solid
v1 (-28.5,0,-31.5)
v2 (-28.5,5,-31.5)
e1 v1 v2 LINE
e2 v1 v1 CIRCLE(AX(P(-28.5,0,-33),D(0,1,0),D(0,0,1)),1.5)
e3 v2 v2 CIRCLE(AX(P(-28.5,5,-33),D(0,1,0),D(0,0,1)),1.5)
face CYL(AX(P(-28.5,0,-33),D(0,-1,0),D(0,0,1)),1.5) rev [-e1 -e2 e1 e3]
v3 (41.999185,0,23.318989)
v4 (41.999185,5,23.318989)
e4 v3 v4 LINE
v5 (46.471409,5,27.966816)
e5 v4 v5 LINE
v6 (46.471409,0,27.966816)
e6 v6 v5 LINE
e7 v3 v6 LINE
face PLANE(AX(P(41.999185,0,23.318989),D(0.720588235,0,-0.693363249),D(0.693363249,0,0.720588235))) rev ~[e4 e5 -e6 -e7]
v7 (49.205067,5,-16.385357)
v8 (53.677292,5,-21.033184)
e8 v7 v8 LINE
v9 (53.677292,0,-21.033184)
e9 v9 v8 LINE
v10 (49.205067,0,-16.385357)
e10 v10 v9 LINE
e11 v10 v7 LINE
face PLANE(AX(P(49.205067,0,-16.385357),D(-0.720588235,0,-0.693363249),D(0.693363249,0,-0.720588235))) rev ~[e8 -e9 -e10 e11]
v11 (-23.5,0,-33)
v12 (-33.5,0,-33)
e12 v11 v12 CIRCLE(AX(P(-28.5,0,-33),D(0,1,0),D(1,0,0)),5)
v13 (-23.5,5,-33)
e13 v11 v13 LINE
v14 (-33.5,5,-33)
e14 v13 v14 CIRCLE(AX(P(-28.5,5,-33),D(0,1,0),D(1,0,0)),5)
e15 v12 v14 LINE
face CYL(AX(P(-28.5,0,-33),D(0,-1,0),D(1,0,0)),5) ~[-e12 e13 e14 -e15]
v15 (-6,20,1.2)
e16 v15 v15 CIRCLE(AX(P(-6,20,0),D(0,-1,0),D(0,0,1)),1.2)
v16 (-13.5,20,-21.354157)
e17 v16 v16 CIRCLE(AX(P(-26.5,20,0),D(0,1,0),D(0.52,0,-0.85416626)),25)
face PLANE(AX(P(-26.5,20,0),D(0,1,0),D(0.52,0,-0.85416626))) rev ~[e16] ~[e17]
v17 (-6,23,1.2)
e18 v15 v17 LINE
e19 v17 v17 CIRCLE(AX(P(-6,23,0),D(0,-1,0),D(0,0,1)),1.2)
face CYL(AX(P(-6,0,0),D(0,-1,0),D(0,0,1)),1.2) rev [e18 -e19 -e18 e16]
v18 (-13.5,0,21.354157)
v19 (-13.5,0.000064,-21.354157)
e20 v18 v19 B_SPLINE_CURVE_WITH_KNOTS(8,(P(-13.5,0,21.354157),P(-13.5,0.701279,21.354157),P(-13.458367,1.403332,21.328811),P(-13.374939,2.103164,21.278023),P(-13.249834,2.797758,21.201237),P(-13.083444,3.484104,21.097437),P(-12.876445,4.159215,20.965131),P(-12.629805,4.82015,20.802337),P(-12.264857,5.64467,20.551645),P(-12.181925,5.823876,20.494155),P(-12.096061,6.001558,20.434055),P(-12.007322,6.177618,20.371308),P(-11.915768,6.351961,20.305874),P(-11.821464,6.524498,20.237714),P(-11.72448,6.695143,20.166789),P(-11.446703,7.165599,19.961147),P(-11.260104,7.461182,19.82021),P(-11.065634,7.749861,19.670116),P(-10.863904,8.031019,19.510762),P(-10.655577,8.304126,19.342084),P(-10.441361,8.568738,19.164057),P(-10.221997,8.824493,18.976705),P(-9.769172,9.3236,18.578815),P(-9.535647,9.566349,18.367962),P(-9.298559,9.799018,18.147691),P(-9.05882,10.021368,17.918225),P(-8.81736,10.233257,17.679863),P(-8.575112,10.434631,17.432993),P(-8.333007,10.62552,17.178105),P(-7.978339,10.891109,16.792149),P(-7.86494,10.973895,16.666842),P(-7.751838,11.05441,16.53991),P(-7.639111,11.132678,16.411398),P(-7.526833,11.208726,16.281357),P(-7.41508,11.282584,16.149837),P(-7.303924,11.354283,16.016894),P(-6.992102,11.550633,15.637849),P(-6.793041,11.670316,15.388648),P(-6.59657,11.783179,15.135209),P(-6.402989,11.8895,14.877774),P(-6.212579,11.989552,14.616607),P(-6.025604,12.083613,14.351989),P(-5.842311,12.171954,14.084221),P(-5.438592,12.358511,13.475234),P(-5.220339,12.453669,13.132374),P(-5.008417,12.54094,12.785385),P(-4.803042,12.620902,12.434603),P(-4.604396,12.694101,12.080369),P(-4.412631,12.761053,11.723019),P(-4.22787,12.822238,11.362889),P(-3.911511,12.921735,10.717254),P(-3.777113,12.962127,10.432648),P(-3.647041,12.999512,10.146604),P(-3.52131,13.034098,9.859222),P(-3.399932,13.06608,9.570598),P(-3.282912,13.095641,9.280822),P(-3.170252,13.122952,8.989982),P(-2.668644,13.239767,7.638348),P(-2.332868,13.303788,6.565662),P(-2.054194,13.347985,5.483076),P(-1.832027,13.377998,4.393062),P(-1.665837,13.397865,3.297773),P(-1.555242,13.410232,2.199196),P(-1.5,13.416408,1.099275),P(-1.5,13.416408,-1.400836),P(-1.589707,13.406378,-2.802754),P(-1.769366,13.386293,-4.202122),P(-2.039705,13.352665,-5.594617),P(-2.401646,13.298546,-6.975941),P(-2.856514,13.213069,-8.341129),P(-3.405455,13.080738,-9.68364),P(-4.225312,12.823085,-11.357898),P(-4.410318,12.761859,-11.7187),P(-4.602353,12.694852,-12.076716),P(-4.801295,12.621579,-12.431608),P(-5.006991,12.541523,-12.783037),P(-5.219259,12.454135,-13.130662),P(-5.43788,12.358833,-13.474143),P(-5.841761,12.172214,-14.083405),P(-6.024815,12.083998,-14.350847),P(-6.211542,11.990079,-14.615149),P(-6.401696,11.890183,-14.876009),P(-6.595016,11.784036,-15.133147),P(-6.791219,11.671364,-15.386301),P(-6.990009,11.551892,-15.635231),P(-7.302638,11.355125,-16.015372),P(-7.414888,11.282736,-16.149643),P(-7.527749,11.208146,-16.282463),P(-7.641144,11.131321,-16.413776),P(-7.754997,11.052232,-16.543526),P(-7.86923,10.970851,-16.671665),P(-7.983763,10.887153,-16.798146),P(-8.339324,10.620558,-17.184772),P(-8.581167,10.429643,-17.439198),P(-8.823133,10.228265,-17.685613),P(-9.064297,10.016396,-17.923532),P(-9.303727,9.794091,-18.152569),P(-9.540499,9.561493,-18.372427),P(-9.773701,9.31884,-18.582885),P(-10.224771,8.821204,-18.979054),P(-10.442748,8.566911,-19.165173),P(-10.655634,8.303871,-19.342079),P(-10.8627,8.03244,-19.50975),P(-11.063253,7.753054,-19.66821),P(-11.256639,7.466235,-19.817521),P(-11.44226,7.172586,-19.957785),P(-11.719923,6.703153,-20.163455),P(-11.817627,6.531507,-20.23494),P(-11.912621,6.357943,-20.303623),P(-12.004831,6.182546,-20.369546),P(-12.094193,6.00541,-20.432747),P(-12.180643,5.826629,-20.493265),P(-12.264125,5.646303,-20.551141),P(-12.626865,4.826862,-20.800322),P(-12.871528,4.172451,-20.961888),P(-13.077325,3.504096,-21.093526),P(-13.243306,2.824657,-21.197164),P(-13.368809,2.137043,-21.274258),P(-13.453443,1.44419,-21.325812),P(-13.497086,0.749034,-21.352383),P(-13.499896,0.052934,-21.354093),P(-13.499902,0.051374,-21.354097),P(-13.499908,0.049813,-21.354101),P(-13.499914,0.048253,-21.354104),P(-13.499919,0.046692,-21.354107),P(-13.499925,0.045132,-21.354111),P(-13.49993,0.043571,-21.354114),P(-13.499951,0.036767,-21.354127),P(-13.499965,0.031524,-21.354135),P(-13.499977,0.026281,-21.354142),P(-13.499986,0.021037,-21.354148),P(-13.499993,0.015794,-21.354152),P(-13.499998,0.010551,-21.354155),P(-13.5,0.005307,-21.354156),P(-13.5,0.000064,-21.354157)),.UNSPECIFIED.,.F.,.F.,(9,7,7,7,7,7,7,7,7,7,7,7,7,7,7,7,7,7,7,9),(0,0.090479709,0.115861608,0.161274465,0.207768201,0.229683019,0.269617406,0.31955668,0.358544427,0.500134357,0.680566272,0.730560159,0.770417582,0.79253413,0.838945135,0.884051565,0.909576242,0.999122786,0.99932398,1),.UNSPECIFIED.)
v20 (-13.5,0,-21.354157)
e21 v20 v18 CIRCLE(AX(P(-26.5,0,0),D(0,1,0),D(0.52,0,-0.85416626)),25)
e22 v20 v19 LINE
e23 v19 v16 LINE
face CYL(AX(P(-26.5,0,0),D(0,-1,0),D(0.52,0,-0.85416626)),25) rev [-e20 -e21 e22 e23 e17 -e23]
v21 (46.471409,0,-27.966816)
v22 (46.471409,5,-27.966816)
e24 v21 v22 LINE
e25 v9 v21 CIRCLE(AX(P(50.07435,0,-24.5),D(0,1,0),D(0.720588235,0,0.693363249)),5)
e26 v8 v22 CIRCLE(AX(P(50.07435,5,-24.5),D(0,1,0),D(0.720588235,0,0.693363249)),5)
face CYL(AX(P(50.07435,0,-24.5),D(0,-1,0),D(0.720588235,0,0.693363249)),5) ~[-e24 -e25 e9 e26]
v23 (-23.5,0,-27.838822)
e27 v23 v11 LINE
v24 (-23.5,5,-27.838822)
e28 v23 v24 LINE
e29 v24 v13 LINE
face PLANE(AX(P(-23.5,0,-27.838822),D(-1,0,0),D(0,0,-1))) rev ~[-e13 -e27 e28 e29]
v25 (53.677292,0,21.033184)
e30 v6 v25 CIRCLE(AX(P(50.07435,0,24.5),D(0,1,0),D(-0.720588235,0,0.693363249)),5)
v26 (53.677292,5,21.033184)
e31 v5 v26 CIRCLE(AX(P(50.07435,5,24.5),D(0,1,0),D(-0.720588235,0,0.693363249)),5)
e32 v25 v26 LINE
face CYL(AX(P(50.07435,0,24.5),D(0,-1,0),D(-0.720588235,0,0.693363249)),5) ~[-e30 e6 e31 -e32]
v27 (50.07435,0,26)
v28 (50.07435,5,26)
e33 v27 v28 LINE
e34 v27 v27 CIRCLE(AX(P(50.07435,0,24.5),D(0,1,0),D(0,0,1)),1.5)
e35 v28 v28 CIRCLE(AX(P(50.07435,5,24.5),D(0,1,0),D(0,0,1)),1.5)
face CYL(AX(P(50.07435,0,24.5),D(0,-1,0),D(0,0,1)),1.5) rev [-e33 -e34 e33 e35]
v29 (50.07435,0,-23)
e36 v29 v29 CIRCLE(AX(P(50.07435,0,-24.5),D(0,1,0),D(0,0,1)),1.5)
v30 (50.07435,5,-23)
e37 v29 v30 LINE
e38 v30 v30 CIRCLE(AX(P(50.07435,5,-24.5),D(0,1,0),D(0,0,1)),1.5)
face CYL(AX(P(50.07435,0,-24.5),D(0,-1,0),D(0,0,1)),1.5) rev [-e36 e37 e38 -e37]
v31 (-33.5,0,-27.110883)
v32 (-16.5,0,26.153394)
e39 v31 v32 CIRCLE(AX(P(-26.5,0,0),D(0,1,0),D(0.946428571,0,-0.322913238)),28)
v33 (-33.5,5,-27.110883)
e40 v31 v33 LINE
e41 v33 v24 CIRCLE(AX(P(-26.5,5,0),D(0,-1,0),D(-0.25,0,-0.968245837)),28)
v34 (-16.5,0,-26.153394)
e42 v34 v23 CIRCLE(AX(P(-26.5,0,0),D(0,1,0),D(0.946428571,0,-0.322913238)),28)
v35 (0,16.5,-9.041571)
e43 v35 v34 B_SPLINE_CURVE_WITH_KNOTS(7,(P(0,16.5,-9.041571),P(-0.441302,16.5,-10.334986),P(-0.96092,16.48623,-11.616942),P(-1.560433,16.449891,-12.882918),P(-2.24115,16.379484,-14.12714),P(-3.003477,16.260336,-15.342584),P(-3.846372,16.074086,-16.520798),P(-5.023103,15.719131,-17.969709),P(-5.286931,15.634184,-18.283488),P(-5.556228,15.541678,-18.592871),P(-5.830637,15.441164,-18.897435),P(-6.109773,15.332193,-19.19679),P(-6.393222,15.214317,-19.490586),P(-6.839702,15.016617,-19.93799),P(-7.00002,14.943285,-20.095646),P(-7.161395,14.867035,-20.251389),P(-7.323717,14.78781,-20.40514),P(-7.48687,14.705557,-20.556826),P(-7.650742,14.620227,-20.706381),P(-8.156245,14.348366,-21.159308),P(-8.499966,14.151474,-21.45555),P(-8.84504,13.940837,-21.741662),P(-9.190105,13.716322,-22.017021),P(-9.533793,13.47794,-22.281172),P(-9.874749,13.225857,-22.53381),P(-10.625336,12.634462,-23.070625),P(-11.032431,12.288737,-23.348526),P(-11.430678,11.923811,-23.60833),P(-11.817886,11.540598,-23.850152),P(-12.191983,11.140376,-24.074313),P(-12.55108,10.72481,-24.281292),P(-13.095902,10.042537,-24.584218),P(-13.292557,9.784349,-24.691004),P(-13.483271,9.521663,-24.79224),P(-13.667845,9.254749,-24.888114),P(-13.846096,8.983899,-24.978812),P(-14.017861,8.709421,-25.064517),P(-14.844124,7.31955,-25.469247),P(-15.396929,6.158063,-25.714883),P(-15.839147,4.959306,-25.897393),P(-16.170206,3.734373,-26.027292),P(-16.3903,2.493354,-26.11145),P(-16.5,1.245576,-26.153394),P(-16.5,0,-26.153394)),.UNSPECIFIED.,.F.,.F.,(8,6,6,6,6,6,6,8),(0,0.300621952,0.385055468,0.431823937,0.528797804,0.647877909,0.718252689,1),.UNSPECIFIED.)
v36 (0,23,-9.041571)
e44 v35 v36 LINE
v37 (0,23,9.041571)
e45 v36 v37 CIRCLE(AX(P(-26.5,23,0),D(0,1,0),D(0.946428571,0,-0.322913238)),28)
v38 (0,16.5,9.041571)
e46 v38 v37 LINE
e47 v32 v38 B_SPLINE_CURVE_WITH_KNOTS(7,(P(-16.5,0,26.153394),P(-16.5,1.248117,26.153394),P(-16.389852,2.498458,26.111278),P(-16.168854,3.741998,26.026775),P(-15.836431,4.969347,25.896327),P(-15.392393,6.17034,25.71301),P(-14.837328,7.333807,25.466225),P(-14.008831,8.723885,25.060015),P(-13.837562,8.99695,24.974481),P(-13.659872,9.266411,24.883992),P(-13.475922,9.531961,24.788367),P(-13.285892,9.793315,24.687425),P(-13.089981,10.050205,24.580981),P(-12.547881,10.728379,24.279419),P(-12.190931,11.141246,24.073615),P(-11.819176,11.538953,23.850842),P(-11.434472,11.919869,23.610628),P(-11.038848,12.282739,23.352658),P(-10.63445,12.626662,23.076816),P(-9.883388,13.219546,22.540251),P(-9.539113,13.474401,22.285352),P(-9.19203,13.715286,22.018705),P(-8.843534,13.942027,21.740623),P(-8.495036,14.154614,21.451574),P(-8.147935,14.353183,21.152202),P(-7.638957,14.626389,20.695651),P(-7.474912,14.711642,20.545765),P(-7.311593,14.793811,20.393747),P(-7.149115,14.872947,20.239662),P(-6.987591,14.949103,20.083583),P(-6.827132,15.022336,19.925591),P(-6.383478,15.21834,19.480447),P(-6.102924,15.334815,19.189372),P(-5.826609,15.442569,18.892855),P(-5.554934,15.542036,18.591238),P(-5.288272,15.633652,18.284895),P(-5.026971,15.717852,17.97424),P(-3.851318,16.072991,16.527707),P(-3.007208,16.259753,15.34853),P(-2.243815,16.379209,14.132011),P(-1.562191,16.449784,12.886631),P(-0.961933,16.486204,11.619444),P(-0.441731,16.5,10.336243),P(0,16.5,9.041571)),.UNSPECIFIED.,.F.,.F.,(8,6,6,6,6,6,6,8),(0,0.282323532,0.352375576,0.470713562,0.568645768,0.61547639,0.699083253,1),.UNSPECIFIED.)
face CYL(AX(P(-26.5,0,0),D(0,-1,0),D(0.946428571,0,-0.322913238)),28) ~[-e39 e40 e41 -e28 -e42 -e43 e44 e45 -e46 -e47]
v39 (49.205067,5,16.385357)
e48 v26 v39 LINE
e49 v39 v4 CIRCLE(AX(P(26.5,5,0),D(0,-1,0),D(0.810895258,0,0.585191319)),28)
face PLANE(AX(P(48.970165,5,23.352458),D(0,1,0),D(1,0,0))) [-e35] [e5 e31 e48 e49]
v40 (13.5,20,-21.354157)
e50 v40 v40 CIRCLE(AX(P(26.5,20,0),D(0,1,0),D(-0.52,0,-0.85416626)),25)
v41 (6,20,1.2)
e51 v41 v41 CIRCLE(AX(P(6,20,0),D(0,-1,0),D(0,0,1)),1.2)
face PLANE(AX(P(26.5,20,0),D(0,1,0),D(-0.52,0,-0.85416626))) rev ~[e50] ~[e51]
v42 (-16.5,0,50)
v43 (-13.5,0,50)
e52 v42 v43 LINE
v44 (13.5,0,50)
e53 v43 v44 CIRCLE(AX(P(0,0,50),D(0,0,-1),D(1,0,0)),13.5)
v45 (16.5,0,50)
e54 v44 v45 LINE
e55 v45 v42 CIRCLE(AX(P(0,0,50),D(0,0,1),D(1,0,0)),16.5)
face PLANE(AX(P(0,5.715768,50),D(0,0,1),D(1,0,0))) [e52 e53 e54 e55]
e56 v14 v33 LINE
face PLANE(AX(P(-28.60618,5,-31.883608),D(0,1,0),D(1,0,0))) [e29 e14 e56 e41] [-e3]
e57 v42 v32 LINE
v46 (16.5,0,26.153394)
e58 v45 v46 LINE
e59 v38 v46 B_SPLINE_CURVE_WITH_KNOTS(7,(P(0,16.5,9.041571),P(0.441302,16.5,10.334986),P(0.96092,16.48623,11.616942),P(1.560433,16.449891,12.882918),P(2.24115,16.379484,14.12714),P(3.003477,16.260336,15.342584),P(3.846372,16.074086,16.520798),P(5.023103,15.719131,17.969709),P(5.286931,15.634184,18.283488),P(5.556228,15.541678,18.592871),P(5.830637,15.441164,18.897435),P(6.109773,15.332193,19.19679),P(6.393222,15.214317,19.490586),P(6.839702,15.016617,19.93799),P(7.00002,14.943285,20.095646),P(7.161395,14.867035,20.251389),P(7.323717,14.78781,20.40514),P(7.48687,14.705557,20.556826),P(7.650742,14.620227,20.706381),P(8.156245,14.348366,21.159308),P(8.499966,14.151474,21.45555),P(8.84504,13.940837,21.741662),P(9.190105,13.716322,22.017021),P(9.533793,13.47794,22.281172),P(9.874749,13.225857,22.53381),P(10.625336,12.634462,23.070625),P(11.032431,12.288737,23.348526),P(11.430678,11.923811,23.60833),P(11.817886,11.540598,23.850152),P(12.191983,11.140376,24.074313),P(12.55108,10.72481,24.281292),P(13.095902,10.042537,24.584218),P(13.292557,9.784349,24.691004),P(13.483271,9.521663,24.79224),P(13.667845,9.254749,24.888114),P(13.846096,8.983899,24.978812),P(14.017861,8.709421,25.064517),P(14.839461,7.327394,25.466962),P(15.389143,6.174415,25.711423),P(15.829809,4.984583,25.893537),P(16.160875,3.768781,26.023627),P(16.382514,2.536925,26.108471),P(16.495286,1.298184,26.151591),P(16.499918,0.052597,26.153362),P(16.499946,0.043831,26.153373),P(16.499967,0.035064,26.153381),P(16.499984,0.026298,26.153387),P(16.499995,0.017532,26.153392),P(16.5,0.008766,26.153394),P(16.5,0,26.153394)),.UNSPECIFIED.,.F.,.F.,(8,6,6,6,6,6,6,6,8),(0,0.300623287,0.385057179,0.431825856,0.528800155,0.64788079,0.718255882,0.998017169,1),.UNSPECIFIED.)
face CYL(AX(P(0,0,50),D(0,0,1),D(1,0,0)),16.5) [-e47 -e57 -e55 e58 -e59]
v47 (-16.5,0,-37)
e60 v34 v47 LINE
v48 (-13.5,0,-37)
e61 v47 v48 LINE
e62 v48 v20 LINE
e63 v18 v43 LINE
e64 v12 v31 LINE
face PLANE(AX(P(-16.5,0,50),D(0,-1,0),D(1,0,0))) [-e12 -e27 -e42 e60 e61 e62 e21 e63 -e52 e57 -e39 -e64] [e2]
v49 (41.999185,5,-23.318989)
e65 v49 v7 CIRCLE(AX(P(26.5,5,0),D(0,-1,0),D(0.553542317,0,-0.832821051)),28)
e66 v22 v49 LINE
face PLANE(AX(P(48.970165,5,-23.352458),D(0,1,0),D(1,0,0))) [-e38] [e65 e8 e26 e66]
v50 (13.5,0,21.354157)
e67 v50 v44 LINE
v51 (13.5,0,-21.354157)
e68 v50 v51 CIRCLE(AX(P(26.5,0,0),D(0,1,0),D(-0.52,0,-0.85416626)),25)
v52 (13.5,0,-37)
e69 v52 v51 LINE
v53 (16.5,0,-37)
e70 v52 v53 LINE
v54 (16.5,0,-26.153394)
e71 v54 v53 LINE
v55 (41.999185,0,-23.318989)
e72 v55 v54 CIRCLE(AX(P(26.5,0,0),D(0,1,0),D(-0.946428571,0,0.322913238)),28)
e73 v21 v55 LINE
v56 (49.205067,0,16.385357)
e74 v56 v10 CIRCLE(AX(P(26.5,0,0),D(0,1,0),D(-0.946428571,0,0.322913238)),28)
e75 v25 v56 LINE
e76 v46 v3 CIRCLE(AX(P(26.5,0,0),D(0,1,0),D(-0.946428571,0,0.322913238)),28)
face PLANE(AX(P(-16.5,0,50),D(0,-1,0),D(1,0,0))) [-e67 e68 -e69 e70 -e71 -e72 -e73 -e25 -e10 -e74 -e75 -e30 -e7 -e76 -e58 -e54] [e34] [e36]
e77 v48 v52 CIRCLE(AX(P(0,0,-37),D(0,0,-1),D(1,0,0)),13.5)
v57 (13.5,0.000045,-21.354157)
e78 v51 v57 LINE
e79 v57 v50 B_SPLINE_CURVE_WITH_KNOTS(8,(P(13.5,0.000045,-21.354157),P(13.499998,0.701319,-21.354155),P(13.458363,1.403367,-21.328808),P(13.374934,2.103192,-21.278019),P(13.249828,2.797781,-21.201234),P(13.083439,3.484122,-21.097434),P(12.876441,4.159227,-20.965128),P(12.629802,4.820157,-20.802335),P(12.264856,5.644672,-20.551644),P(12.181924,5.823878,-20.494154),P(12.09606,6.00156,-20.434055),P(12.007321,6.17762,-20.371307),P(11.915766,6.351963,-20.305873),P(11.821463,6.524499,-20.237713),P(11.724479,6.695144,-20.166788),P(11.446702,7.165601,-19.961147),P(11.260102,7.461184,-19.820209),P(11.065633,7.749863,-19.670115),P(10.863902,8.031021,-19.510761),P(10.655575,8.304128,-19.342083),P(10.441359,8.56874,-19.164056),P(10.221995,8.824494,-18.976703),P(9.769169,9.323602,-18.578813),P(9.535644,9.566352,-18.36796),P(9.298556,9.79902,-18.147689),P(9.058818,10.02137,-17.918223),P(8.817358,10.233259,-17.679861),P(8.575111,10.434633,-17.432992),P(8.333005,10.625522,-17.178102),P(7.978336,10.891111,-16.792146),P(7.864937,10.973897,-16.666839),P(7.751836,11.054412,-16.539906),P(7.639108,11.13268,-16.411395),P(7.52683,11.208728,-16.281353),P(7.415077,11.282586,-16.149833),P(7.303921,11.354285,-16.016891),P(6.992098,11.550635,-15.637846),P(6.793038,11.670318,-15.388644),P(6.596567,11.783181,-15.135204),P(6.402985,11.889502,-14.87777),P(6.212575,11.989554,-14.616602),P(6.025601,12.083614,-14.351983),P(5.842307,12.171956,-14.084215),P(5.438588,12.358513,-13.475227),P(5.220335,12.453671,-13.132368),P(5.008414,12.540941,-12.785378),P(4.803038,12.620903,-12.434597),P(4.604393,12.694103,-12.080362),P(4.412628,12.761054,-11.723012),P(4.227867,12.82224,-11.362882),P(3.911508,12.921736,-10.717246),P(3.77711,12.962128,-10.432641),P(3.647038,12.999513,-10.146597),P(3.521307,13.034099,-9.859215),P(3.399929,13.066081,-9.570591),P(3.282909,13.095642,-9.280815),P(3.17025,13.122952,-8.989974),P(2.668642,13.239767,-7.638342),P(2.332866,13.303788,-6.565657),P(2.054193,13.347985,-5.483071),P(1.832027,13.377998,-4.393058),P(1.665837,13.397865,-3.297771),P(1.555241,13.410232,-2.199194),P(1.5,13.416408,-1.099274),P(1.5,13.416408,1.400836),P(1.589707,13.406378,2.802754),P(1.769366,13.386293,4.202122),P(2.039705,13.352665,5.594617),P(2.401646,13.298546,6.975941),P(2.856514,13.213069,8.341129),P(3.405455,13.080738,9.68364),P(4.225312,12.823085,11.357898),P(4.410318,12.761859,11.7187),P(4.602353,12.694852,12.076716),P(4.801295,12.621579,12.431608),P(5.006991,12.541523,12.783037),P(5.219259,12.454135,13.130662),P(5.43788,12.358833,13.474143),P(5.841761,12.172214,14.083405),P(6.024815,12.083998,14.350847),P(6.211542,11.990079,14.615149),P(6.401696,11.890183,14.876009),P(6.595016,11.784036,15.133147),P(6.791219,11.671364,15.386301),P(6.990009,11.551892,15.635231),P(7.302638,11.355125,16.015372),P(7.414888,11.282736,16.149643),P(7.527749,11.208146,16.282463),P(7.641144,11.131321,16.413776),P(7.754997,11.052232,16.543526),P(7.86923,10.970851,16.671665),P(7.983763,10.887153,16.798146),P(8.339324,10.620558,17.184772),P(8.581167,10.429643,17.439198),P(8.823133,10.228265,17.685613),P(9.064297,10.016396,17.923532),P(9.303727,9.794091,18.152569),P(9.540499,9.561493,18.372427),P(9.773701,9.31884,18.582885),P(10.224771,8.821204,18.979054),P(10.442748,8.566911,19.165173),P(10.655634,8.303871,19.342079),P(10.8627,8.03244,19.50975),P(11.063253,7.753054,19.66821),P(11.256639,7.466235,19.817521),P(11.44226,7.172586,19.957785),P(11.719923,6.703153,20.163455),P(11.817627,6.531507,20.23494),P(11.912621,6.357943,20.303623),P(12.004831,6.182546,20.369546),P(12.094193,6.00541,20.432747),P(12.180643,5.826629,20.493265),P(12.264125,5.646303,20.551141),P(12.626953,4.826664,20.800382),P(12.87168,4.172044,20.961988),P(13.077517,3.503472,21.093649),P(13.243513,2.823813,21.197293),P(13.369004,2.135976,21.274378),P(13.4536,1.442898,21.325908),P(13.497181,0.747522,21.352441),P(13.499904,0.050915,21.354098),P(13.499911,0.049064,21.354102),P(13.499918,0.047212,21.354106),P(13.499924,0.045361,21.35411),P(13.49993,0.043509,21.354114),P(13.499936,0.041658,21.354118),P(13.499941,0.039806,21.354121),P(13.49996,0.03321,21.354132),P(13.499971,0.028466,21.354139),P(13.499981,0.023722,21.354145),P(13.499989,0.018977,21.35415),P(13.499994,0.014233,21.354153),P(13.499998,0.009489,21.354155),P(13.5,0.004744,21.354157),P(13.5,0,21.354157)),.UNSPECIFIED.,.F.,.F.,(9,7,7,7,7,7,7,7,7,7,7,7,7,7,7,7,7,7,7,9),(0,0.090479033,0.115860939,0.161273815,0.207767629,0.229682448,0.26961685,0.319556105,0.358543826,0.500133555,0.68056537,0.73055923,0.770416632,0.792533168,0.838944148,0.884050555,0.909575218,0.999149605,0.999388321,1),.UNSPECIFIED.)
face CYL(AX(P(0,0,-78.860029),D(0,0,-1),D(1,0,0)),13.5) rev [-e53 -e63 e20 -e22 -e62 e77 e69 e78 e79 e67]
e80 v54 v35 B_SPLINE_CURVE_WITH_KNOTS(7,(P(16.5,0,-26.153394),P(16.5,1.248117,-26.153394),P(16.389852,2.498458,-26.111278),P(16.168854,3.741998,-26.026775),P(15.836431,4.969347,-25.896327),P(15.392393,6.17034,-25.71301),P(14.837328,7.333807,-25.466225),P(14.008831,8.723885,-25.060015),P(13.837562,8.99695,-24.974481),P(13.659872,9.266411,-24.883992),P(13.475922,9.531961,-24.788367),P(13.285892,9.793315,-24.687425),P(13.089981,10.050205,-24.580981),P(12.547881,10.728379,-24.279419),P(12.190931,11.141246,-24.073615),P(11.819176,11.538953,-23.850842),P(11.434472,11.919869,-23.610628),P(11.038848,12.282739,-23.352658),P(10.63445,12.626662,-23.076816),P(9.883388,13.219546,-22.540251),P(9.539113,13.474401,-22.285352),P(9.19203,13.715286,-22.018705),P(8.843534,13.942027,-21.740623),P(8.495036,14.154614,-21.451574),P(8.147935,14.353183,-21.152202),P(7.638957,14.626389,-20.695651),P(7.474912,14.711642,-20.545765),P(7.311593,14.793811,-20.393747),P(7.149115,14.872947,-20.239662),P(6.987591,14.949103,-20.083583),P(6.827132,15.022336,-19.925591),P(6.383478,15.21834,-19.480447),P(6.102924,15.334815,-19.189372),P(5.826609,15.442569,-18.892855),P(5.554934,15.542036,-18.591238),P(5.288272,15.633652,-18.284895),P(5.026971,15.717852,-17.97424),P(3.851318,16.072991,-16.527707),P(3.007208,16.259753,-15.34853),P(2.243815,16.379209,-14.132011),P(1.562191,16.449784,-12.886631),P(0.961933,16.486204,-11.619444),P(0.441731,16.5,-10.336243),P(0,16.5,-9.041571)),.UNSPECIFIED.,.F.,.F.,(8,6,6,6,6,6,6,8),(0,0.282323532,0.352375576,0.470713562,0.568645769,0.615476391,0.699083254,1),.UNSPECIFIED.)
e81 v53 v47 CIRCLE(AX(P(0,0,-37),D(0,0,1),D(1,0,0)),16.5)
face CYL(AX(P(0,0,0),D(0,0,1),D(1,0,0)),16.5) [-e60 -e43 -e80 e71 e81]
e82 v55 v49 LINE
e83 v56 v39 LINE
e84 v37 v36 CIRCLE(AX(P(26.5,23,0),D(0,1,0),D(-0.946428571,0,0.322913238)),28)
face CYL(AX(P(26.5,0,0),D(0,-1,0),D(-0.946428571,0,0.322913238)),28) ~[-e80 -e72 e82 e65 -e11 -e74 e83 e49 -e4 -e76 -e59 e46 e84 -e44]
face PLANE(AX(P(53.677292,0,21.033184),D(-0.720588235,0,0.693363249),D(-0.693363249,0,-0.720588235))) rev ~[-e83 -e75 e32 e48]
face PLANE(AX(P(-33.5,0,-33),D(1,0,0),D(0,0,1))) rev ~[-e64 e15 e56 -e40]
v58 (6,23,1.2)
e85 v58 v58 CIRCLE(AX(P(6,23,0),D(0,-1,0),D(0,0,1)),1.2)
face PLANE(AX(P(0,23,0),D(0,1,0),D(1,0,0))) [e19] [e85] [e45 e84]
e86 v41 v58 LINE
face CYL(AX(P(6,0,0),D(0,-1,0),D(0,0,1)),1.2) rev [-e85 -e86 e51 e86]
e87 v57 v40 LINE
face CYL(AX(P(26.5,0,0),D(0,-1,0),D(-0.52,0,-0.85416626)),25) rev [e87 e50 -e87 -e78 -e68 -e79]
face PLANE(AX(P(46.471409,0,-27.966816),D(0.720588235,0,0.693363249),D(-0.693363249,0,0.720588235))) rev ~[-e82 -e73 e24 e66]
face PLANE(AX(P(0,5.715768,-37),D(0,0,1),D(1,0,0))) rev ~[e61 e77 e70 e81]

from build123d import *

# Parameters (mm, degrees)
BOSS_EXTRUDE1_DEPTH     = 23
SKETCH2_R               = 1.5
BOSS_EXTRUDE2_DEPTH     = 5
SKETCH3_R               = 1.5
BOSS_EXTRUDE3_DEPTH     = 5
BOSS_EXTRUDE4_DEPTH     = 37
BOSS_EXTRUDE5_START     = 50
BOSS_EXTRUDE5_DEPTH     = 50
CUT_EXTRUDE1_DEPTH      = 78.86002886
CUT_EXTRUDE1_DEPTH_BACK = 78.86002886
SKETCH5_R               = 25
CUT_EXTRUDE4_DEPTH      = 20
SKETCH7_R               = 1.2
CUT_EXTRUDE6_DEPTH      = 78.86002886


with BuildPart() as part:
    # Sketch1 → Boss-Extrude1 (new body)
    with BuildSketch(Plane(origin=(0, 0, 0), x_dir=(1, 0, 0), z_dir=(0, 1, 0))):
        with BuildLine():
            ThreePointArc((0, 9.04157066), (-54.5, 0), (0, -9.04157066))
            ThreePointArc((0, -9.04157066), (54.5, 0), (0, 9.04157066))
        make_face()
    extrude(amount=BOSS_EXTRUDE1_DEPTH)

    # Sketch2 → Boss-Extrude2 (add)
    with BuildSketch(Plane(origin=(0, 0, 0), x_dir=(1, 0, 0), z_dir=(0, 1, 0))):
        with BuildLine():
            Line((-33.5, 33), (-33.5, 27.110883423))
            ThreePointArc((-33.5, 27.110883423), (-28.532848636, 27.926108329), (-23.5, 27.838821814))
            Line((-23.5, 27.838821814), (-23.5, 33))
            ThreePointArc((-23.5, 33), (-28.5, 38), (-33.5, 33))
        make_face()
        with Locations((-28.5, 33)):
            Circle(SKETCH2_R, mode=Mode.SUBTRACT)
    extrude(amount=BOSS_EXTRUDE2_DEPTH)

    # Sketch3 → Boss-Extrude3 (add)
    # profile 1 of 2: a face of its own
    with BuildSketch(Plane(origin=(0, 0, 0), x_dir=(1, 0, 0), z_dir=(0, 1, 0))):
        with BuildLine():
            Line((41.999184876, -23.318989433), (46.471409292, -27.966816245))
            ThreePointArc((46.471409292, -27.966816245), (53.541166714, -28.102941176), (53.677291645, -21.033183755))
            Line((53.677291645, -21.033183755), (49.205067229, -16.385356942))
            ThreePointArc((49.205067229, -16.385356942), (45.914170974, -20.176470588), (41.999184876, -23.318989433))
        make_face()
        with Locations((50.074350468, -24.5)):
            Circle(SKETCH3_R, mode=Mode.SUBTRACT)
    # profile 2 of 2: a face of its own
    with BuildSketch(Plane(origin=(0, 0, 0), x_dir=(1, 0, 0), z_dir=(0, 1, 0))):
        with BuildLine():
            ThreePointArc((53.677291645, 21.033183755), (53.541166714, 28.102941176), (46.471409292, 27.966816245))
            Line((46.471409292, 27.966816245), (41.999184876, 23.318989433))
            ThreePointArc((41.999184876, 23.318989433), (45.914170974, 20.176470588), (49.205067229, 16.385356942))
            Line((49.205067229, 16.385356942), (53.677291645, 21.033183755))
        make_face()
        with Locations((50.074350468, 24.5)):
            Circle(SKETCH3_R, mode=Mode.SUBTRACT)
    extrude(amount=BOSS_EXTRUDE3_DEPTH)

    # Sketch6 → Boss-Extrude4 (add)
    with BuildSketch(Plane.XY):
        with BuildLine():
            Line((-16.5, 0), (16.5, 0))
            ThreePointArc((16.5, 0), (0, 16.5), (-16.5, 0))
        make_face()
    extrude(amount=-BOSS_EXTRUDE4_DEPTH)

    # Sketch6<2> → Boss-Extrude5 (add)
    with BuildSketch(Plane.XY.offset(BOSS_EXTRUDE5_START)):
        with BuildLine():
            Line((-16.5, 0), (16.5, 0))
            ThreePointArc((16.5, 0), (0, 16.5), (-16.5, 0))
        make_face()
    extrude(amount=-BOSS_EXTRUDE5_DEPTH)

    # Sketch4 → Cut-Extrude1 (cut, two sides: drawn at the far end of the back side and taken through both)
    with BuildSketch(Plane.XY.offset(-CUT_EXTRUDE1_DEPTH_BACK)):
        with BuildLine():
            Line((-13.5, 0), (13.5, 0))
            ThreePointArc((13.5, 0), (0, 13.5), (-13.5, 0))
        make_face()
    extrude(amount=CUT_EXTRUDE1_DEPTH + CUT_EXTRUDE1_DEPTH_BACK, mode=Mode.SUBTRACT)

    # Sketch5 → Cut-Extrude4 (cut)
    with BuildSketch(Plane(origin=(0, 0, 0), x_dir=(1, 0, 0), z_dir=(0, 1, 0))):
        with Locations((-26.5, 0)):
            Circle(SKETCH5_R)
        with Locations((26.5, 0)):
            Circle(SKETCH5_R)
    extrude(amount=CUT_EXTRUDE4_DEPTH, mode=Mode.SUBTRACT)

    # Sketch7 → Cut-Extrude6 (cut, through all)
    with BuildSketch(Plane(origin=(0, 0, 0), x_dir=(1, 0, 0), z_dir=(0, 1, 0))):
        with Locations((-6, 0)):
            Circle(SKETCH7_R)
        with Locations((6, 0)):
            Circle(SKETCH7_R)
    extrude(amount=CUT_EXTRUDE6_DEPTH, mode=Mode.SUBTRACT)


solid = part.part
